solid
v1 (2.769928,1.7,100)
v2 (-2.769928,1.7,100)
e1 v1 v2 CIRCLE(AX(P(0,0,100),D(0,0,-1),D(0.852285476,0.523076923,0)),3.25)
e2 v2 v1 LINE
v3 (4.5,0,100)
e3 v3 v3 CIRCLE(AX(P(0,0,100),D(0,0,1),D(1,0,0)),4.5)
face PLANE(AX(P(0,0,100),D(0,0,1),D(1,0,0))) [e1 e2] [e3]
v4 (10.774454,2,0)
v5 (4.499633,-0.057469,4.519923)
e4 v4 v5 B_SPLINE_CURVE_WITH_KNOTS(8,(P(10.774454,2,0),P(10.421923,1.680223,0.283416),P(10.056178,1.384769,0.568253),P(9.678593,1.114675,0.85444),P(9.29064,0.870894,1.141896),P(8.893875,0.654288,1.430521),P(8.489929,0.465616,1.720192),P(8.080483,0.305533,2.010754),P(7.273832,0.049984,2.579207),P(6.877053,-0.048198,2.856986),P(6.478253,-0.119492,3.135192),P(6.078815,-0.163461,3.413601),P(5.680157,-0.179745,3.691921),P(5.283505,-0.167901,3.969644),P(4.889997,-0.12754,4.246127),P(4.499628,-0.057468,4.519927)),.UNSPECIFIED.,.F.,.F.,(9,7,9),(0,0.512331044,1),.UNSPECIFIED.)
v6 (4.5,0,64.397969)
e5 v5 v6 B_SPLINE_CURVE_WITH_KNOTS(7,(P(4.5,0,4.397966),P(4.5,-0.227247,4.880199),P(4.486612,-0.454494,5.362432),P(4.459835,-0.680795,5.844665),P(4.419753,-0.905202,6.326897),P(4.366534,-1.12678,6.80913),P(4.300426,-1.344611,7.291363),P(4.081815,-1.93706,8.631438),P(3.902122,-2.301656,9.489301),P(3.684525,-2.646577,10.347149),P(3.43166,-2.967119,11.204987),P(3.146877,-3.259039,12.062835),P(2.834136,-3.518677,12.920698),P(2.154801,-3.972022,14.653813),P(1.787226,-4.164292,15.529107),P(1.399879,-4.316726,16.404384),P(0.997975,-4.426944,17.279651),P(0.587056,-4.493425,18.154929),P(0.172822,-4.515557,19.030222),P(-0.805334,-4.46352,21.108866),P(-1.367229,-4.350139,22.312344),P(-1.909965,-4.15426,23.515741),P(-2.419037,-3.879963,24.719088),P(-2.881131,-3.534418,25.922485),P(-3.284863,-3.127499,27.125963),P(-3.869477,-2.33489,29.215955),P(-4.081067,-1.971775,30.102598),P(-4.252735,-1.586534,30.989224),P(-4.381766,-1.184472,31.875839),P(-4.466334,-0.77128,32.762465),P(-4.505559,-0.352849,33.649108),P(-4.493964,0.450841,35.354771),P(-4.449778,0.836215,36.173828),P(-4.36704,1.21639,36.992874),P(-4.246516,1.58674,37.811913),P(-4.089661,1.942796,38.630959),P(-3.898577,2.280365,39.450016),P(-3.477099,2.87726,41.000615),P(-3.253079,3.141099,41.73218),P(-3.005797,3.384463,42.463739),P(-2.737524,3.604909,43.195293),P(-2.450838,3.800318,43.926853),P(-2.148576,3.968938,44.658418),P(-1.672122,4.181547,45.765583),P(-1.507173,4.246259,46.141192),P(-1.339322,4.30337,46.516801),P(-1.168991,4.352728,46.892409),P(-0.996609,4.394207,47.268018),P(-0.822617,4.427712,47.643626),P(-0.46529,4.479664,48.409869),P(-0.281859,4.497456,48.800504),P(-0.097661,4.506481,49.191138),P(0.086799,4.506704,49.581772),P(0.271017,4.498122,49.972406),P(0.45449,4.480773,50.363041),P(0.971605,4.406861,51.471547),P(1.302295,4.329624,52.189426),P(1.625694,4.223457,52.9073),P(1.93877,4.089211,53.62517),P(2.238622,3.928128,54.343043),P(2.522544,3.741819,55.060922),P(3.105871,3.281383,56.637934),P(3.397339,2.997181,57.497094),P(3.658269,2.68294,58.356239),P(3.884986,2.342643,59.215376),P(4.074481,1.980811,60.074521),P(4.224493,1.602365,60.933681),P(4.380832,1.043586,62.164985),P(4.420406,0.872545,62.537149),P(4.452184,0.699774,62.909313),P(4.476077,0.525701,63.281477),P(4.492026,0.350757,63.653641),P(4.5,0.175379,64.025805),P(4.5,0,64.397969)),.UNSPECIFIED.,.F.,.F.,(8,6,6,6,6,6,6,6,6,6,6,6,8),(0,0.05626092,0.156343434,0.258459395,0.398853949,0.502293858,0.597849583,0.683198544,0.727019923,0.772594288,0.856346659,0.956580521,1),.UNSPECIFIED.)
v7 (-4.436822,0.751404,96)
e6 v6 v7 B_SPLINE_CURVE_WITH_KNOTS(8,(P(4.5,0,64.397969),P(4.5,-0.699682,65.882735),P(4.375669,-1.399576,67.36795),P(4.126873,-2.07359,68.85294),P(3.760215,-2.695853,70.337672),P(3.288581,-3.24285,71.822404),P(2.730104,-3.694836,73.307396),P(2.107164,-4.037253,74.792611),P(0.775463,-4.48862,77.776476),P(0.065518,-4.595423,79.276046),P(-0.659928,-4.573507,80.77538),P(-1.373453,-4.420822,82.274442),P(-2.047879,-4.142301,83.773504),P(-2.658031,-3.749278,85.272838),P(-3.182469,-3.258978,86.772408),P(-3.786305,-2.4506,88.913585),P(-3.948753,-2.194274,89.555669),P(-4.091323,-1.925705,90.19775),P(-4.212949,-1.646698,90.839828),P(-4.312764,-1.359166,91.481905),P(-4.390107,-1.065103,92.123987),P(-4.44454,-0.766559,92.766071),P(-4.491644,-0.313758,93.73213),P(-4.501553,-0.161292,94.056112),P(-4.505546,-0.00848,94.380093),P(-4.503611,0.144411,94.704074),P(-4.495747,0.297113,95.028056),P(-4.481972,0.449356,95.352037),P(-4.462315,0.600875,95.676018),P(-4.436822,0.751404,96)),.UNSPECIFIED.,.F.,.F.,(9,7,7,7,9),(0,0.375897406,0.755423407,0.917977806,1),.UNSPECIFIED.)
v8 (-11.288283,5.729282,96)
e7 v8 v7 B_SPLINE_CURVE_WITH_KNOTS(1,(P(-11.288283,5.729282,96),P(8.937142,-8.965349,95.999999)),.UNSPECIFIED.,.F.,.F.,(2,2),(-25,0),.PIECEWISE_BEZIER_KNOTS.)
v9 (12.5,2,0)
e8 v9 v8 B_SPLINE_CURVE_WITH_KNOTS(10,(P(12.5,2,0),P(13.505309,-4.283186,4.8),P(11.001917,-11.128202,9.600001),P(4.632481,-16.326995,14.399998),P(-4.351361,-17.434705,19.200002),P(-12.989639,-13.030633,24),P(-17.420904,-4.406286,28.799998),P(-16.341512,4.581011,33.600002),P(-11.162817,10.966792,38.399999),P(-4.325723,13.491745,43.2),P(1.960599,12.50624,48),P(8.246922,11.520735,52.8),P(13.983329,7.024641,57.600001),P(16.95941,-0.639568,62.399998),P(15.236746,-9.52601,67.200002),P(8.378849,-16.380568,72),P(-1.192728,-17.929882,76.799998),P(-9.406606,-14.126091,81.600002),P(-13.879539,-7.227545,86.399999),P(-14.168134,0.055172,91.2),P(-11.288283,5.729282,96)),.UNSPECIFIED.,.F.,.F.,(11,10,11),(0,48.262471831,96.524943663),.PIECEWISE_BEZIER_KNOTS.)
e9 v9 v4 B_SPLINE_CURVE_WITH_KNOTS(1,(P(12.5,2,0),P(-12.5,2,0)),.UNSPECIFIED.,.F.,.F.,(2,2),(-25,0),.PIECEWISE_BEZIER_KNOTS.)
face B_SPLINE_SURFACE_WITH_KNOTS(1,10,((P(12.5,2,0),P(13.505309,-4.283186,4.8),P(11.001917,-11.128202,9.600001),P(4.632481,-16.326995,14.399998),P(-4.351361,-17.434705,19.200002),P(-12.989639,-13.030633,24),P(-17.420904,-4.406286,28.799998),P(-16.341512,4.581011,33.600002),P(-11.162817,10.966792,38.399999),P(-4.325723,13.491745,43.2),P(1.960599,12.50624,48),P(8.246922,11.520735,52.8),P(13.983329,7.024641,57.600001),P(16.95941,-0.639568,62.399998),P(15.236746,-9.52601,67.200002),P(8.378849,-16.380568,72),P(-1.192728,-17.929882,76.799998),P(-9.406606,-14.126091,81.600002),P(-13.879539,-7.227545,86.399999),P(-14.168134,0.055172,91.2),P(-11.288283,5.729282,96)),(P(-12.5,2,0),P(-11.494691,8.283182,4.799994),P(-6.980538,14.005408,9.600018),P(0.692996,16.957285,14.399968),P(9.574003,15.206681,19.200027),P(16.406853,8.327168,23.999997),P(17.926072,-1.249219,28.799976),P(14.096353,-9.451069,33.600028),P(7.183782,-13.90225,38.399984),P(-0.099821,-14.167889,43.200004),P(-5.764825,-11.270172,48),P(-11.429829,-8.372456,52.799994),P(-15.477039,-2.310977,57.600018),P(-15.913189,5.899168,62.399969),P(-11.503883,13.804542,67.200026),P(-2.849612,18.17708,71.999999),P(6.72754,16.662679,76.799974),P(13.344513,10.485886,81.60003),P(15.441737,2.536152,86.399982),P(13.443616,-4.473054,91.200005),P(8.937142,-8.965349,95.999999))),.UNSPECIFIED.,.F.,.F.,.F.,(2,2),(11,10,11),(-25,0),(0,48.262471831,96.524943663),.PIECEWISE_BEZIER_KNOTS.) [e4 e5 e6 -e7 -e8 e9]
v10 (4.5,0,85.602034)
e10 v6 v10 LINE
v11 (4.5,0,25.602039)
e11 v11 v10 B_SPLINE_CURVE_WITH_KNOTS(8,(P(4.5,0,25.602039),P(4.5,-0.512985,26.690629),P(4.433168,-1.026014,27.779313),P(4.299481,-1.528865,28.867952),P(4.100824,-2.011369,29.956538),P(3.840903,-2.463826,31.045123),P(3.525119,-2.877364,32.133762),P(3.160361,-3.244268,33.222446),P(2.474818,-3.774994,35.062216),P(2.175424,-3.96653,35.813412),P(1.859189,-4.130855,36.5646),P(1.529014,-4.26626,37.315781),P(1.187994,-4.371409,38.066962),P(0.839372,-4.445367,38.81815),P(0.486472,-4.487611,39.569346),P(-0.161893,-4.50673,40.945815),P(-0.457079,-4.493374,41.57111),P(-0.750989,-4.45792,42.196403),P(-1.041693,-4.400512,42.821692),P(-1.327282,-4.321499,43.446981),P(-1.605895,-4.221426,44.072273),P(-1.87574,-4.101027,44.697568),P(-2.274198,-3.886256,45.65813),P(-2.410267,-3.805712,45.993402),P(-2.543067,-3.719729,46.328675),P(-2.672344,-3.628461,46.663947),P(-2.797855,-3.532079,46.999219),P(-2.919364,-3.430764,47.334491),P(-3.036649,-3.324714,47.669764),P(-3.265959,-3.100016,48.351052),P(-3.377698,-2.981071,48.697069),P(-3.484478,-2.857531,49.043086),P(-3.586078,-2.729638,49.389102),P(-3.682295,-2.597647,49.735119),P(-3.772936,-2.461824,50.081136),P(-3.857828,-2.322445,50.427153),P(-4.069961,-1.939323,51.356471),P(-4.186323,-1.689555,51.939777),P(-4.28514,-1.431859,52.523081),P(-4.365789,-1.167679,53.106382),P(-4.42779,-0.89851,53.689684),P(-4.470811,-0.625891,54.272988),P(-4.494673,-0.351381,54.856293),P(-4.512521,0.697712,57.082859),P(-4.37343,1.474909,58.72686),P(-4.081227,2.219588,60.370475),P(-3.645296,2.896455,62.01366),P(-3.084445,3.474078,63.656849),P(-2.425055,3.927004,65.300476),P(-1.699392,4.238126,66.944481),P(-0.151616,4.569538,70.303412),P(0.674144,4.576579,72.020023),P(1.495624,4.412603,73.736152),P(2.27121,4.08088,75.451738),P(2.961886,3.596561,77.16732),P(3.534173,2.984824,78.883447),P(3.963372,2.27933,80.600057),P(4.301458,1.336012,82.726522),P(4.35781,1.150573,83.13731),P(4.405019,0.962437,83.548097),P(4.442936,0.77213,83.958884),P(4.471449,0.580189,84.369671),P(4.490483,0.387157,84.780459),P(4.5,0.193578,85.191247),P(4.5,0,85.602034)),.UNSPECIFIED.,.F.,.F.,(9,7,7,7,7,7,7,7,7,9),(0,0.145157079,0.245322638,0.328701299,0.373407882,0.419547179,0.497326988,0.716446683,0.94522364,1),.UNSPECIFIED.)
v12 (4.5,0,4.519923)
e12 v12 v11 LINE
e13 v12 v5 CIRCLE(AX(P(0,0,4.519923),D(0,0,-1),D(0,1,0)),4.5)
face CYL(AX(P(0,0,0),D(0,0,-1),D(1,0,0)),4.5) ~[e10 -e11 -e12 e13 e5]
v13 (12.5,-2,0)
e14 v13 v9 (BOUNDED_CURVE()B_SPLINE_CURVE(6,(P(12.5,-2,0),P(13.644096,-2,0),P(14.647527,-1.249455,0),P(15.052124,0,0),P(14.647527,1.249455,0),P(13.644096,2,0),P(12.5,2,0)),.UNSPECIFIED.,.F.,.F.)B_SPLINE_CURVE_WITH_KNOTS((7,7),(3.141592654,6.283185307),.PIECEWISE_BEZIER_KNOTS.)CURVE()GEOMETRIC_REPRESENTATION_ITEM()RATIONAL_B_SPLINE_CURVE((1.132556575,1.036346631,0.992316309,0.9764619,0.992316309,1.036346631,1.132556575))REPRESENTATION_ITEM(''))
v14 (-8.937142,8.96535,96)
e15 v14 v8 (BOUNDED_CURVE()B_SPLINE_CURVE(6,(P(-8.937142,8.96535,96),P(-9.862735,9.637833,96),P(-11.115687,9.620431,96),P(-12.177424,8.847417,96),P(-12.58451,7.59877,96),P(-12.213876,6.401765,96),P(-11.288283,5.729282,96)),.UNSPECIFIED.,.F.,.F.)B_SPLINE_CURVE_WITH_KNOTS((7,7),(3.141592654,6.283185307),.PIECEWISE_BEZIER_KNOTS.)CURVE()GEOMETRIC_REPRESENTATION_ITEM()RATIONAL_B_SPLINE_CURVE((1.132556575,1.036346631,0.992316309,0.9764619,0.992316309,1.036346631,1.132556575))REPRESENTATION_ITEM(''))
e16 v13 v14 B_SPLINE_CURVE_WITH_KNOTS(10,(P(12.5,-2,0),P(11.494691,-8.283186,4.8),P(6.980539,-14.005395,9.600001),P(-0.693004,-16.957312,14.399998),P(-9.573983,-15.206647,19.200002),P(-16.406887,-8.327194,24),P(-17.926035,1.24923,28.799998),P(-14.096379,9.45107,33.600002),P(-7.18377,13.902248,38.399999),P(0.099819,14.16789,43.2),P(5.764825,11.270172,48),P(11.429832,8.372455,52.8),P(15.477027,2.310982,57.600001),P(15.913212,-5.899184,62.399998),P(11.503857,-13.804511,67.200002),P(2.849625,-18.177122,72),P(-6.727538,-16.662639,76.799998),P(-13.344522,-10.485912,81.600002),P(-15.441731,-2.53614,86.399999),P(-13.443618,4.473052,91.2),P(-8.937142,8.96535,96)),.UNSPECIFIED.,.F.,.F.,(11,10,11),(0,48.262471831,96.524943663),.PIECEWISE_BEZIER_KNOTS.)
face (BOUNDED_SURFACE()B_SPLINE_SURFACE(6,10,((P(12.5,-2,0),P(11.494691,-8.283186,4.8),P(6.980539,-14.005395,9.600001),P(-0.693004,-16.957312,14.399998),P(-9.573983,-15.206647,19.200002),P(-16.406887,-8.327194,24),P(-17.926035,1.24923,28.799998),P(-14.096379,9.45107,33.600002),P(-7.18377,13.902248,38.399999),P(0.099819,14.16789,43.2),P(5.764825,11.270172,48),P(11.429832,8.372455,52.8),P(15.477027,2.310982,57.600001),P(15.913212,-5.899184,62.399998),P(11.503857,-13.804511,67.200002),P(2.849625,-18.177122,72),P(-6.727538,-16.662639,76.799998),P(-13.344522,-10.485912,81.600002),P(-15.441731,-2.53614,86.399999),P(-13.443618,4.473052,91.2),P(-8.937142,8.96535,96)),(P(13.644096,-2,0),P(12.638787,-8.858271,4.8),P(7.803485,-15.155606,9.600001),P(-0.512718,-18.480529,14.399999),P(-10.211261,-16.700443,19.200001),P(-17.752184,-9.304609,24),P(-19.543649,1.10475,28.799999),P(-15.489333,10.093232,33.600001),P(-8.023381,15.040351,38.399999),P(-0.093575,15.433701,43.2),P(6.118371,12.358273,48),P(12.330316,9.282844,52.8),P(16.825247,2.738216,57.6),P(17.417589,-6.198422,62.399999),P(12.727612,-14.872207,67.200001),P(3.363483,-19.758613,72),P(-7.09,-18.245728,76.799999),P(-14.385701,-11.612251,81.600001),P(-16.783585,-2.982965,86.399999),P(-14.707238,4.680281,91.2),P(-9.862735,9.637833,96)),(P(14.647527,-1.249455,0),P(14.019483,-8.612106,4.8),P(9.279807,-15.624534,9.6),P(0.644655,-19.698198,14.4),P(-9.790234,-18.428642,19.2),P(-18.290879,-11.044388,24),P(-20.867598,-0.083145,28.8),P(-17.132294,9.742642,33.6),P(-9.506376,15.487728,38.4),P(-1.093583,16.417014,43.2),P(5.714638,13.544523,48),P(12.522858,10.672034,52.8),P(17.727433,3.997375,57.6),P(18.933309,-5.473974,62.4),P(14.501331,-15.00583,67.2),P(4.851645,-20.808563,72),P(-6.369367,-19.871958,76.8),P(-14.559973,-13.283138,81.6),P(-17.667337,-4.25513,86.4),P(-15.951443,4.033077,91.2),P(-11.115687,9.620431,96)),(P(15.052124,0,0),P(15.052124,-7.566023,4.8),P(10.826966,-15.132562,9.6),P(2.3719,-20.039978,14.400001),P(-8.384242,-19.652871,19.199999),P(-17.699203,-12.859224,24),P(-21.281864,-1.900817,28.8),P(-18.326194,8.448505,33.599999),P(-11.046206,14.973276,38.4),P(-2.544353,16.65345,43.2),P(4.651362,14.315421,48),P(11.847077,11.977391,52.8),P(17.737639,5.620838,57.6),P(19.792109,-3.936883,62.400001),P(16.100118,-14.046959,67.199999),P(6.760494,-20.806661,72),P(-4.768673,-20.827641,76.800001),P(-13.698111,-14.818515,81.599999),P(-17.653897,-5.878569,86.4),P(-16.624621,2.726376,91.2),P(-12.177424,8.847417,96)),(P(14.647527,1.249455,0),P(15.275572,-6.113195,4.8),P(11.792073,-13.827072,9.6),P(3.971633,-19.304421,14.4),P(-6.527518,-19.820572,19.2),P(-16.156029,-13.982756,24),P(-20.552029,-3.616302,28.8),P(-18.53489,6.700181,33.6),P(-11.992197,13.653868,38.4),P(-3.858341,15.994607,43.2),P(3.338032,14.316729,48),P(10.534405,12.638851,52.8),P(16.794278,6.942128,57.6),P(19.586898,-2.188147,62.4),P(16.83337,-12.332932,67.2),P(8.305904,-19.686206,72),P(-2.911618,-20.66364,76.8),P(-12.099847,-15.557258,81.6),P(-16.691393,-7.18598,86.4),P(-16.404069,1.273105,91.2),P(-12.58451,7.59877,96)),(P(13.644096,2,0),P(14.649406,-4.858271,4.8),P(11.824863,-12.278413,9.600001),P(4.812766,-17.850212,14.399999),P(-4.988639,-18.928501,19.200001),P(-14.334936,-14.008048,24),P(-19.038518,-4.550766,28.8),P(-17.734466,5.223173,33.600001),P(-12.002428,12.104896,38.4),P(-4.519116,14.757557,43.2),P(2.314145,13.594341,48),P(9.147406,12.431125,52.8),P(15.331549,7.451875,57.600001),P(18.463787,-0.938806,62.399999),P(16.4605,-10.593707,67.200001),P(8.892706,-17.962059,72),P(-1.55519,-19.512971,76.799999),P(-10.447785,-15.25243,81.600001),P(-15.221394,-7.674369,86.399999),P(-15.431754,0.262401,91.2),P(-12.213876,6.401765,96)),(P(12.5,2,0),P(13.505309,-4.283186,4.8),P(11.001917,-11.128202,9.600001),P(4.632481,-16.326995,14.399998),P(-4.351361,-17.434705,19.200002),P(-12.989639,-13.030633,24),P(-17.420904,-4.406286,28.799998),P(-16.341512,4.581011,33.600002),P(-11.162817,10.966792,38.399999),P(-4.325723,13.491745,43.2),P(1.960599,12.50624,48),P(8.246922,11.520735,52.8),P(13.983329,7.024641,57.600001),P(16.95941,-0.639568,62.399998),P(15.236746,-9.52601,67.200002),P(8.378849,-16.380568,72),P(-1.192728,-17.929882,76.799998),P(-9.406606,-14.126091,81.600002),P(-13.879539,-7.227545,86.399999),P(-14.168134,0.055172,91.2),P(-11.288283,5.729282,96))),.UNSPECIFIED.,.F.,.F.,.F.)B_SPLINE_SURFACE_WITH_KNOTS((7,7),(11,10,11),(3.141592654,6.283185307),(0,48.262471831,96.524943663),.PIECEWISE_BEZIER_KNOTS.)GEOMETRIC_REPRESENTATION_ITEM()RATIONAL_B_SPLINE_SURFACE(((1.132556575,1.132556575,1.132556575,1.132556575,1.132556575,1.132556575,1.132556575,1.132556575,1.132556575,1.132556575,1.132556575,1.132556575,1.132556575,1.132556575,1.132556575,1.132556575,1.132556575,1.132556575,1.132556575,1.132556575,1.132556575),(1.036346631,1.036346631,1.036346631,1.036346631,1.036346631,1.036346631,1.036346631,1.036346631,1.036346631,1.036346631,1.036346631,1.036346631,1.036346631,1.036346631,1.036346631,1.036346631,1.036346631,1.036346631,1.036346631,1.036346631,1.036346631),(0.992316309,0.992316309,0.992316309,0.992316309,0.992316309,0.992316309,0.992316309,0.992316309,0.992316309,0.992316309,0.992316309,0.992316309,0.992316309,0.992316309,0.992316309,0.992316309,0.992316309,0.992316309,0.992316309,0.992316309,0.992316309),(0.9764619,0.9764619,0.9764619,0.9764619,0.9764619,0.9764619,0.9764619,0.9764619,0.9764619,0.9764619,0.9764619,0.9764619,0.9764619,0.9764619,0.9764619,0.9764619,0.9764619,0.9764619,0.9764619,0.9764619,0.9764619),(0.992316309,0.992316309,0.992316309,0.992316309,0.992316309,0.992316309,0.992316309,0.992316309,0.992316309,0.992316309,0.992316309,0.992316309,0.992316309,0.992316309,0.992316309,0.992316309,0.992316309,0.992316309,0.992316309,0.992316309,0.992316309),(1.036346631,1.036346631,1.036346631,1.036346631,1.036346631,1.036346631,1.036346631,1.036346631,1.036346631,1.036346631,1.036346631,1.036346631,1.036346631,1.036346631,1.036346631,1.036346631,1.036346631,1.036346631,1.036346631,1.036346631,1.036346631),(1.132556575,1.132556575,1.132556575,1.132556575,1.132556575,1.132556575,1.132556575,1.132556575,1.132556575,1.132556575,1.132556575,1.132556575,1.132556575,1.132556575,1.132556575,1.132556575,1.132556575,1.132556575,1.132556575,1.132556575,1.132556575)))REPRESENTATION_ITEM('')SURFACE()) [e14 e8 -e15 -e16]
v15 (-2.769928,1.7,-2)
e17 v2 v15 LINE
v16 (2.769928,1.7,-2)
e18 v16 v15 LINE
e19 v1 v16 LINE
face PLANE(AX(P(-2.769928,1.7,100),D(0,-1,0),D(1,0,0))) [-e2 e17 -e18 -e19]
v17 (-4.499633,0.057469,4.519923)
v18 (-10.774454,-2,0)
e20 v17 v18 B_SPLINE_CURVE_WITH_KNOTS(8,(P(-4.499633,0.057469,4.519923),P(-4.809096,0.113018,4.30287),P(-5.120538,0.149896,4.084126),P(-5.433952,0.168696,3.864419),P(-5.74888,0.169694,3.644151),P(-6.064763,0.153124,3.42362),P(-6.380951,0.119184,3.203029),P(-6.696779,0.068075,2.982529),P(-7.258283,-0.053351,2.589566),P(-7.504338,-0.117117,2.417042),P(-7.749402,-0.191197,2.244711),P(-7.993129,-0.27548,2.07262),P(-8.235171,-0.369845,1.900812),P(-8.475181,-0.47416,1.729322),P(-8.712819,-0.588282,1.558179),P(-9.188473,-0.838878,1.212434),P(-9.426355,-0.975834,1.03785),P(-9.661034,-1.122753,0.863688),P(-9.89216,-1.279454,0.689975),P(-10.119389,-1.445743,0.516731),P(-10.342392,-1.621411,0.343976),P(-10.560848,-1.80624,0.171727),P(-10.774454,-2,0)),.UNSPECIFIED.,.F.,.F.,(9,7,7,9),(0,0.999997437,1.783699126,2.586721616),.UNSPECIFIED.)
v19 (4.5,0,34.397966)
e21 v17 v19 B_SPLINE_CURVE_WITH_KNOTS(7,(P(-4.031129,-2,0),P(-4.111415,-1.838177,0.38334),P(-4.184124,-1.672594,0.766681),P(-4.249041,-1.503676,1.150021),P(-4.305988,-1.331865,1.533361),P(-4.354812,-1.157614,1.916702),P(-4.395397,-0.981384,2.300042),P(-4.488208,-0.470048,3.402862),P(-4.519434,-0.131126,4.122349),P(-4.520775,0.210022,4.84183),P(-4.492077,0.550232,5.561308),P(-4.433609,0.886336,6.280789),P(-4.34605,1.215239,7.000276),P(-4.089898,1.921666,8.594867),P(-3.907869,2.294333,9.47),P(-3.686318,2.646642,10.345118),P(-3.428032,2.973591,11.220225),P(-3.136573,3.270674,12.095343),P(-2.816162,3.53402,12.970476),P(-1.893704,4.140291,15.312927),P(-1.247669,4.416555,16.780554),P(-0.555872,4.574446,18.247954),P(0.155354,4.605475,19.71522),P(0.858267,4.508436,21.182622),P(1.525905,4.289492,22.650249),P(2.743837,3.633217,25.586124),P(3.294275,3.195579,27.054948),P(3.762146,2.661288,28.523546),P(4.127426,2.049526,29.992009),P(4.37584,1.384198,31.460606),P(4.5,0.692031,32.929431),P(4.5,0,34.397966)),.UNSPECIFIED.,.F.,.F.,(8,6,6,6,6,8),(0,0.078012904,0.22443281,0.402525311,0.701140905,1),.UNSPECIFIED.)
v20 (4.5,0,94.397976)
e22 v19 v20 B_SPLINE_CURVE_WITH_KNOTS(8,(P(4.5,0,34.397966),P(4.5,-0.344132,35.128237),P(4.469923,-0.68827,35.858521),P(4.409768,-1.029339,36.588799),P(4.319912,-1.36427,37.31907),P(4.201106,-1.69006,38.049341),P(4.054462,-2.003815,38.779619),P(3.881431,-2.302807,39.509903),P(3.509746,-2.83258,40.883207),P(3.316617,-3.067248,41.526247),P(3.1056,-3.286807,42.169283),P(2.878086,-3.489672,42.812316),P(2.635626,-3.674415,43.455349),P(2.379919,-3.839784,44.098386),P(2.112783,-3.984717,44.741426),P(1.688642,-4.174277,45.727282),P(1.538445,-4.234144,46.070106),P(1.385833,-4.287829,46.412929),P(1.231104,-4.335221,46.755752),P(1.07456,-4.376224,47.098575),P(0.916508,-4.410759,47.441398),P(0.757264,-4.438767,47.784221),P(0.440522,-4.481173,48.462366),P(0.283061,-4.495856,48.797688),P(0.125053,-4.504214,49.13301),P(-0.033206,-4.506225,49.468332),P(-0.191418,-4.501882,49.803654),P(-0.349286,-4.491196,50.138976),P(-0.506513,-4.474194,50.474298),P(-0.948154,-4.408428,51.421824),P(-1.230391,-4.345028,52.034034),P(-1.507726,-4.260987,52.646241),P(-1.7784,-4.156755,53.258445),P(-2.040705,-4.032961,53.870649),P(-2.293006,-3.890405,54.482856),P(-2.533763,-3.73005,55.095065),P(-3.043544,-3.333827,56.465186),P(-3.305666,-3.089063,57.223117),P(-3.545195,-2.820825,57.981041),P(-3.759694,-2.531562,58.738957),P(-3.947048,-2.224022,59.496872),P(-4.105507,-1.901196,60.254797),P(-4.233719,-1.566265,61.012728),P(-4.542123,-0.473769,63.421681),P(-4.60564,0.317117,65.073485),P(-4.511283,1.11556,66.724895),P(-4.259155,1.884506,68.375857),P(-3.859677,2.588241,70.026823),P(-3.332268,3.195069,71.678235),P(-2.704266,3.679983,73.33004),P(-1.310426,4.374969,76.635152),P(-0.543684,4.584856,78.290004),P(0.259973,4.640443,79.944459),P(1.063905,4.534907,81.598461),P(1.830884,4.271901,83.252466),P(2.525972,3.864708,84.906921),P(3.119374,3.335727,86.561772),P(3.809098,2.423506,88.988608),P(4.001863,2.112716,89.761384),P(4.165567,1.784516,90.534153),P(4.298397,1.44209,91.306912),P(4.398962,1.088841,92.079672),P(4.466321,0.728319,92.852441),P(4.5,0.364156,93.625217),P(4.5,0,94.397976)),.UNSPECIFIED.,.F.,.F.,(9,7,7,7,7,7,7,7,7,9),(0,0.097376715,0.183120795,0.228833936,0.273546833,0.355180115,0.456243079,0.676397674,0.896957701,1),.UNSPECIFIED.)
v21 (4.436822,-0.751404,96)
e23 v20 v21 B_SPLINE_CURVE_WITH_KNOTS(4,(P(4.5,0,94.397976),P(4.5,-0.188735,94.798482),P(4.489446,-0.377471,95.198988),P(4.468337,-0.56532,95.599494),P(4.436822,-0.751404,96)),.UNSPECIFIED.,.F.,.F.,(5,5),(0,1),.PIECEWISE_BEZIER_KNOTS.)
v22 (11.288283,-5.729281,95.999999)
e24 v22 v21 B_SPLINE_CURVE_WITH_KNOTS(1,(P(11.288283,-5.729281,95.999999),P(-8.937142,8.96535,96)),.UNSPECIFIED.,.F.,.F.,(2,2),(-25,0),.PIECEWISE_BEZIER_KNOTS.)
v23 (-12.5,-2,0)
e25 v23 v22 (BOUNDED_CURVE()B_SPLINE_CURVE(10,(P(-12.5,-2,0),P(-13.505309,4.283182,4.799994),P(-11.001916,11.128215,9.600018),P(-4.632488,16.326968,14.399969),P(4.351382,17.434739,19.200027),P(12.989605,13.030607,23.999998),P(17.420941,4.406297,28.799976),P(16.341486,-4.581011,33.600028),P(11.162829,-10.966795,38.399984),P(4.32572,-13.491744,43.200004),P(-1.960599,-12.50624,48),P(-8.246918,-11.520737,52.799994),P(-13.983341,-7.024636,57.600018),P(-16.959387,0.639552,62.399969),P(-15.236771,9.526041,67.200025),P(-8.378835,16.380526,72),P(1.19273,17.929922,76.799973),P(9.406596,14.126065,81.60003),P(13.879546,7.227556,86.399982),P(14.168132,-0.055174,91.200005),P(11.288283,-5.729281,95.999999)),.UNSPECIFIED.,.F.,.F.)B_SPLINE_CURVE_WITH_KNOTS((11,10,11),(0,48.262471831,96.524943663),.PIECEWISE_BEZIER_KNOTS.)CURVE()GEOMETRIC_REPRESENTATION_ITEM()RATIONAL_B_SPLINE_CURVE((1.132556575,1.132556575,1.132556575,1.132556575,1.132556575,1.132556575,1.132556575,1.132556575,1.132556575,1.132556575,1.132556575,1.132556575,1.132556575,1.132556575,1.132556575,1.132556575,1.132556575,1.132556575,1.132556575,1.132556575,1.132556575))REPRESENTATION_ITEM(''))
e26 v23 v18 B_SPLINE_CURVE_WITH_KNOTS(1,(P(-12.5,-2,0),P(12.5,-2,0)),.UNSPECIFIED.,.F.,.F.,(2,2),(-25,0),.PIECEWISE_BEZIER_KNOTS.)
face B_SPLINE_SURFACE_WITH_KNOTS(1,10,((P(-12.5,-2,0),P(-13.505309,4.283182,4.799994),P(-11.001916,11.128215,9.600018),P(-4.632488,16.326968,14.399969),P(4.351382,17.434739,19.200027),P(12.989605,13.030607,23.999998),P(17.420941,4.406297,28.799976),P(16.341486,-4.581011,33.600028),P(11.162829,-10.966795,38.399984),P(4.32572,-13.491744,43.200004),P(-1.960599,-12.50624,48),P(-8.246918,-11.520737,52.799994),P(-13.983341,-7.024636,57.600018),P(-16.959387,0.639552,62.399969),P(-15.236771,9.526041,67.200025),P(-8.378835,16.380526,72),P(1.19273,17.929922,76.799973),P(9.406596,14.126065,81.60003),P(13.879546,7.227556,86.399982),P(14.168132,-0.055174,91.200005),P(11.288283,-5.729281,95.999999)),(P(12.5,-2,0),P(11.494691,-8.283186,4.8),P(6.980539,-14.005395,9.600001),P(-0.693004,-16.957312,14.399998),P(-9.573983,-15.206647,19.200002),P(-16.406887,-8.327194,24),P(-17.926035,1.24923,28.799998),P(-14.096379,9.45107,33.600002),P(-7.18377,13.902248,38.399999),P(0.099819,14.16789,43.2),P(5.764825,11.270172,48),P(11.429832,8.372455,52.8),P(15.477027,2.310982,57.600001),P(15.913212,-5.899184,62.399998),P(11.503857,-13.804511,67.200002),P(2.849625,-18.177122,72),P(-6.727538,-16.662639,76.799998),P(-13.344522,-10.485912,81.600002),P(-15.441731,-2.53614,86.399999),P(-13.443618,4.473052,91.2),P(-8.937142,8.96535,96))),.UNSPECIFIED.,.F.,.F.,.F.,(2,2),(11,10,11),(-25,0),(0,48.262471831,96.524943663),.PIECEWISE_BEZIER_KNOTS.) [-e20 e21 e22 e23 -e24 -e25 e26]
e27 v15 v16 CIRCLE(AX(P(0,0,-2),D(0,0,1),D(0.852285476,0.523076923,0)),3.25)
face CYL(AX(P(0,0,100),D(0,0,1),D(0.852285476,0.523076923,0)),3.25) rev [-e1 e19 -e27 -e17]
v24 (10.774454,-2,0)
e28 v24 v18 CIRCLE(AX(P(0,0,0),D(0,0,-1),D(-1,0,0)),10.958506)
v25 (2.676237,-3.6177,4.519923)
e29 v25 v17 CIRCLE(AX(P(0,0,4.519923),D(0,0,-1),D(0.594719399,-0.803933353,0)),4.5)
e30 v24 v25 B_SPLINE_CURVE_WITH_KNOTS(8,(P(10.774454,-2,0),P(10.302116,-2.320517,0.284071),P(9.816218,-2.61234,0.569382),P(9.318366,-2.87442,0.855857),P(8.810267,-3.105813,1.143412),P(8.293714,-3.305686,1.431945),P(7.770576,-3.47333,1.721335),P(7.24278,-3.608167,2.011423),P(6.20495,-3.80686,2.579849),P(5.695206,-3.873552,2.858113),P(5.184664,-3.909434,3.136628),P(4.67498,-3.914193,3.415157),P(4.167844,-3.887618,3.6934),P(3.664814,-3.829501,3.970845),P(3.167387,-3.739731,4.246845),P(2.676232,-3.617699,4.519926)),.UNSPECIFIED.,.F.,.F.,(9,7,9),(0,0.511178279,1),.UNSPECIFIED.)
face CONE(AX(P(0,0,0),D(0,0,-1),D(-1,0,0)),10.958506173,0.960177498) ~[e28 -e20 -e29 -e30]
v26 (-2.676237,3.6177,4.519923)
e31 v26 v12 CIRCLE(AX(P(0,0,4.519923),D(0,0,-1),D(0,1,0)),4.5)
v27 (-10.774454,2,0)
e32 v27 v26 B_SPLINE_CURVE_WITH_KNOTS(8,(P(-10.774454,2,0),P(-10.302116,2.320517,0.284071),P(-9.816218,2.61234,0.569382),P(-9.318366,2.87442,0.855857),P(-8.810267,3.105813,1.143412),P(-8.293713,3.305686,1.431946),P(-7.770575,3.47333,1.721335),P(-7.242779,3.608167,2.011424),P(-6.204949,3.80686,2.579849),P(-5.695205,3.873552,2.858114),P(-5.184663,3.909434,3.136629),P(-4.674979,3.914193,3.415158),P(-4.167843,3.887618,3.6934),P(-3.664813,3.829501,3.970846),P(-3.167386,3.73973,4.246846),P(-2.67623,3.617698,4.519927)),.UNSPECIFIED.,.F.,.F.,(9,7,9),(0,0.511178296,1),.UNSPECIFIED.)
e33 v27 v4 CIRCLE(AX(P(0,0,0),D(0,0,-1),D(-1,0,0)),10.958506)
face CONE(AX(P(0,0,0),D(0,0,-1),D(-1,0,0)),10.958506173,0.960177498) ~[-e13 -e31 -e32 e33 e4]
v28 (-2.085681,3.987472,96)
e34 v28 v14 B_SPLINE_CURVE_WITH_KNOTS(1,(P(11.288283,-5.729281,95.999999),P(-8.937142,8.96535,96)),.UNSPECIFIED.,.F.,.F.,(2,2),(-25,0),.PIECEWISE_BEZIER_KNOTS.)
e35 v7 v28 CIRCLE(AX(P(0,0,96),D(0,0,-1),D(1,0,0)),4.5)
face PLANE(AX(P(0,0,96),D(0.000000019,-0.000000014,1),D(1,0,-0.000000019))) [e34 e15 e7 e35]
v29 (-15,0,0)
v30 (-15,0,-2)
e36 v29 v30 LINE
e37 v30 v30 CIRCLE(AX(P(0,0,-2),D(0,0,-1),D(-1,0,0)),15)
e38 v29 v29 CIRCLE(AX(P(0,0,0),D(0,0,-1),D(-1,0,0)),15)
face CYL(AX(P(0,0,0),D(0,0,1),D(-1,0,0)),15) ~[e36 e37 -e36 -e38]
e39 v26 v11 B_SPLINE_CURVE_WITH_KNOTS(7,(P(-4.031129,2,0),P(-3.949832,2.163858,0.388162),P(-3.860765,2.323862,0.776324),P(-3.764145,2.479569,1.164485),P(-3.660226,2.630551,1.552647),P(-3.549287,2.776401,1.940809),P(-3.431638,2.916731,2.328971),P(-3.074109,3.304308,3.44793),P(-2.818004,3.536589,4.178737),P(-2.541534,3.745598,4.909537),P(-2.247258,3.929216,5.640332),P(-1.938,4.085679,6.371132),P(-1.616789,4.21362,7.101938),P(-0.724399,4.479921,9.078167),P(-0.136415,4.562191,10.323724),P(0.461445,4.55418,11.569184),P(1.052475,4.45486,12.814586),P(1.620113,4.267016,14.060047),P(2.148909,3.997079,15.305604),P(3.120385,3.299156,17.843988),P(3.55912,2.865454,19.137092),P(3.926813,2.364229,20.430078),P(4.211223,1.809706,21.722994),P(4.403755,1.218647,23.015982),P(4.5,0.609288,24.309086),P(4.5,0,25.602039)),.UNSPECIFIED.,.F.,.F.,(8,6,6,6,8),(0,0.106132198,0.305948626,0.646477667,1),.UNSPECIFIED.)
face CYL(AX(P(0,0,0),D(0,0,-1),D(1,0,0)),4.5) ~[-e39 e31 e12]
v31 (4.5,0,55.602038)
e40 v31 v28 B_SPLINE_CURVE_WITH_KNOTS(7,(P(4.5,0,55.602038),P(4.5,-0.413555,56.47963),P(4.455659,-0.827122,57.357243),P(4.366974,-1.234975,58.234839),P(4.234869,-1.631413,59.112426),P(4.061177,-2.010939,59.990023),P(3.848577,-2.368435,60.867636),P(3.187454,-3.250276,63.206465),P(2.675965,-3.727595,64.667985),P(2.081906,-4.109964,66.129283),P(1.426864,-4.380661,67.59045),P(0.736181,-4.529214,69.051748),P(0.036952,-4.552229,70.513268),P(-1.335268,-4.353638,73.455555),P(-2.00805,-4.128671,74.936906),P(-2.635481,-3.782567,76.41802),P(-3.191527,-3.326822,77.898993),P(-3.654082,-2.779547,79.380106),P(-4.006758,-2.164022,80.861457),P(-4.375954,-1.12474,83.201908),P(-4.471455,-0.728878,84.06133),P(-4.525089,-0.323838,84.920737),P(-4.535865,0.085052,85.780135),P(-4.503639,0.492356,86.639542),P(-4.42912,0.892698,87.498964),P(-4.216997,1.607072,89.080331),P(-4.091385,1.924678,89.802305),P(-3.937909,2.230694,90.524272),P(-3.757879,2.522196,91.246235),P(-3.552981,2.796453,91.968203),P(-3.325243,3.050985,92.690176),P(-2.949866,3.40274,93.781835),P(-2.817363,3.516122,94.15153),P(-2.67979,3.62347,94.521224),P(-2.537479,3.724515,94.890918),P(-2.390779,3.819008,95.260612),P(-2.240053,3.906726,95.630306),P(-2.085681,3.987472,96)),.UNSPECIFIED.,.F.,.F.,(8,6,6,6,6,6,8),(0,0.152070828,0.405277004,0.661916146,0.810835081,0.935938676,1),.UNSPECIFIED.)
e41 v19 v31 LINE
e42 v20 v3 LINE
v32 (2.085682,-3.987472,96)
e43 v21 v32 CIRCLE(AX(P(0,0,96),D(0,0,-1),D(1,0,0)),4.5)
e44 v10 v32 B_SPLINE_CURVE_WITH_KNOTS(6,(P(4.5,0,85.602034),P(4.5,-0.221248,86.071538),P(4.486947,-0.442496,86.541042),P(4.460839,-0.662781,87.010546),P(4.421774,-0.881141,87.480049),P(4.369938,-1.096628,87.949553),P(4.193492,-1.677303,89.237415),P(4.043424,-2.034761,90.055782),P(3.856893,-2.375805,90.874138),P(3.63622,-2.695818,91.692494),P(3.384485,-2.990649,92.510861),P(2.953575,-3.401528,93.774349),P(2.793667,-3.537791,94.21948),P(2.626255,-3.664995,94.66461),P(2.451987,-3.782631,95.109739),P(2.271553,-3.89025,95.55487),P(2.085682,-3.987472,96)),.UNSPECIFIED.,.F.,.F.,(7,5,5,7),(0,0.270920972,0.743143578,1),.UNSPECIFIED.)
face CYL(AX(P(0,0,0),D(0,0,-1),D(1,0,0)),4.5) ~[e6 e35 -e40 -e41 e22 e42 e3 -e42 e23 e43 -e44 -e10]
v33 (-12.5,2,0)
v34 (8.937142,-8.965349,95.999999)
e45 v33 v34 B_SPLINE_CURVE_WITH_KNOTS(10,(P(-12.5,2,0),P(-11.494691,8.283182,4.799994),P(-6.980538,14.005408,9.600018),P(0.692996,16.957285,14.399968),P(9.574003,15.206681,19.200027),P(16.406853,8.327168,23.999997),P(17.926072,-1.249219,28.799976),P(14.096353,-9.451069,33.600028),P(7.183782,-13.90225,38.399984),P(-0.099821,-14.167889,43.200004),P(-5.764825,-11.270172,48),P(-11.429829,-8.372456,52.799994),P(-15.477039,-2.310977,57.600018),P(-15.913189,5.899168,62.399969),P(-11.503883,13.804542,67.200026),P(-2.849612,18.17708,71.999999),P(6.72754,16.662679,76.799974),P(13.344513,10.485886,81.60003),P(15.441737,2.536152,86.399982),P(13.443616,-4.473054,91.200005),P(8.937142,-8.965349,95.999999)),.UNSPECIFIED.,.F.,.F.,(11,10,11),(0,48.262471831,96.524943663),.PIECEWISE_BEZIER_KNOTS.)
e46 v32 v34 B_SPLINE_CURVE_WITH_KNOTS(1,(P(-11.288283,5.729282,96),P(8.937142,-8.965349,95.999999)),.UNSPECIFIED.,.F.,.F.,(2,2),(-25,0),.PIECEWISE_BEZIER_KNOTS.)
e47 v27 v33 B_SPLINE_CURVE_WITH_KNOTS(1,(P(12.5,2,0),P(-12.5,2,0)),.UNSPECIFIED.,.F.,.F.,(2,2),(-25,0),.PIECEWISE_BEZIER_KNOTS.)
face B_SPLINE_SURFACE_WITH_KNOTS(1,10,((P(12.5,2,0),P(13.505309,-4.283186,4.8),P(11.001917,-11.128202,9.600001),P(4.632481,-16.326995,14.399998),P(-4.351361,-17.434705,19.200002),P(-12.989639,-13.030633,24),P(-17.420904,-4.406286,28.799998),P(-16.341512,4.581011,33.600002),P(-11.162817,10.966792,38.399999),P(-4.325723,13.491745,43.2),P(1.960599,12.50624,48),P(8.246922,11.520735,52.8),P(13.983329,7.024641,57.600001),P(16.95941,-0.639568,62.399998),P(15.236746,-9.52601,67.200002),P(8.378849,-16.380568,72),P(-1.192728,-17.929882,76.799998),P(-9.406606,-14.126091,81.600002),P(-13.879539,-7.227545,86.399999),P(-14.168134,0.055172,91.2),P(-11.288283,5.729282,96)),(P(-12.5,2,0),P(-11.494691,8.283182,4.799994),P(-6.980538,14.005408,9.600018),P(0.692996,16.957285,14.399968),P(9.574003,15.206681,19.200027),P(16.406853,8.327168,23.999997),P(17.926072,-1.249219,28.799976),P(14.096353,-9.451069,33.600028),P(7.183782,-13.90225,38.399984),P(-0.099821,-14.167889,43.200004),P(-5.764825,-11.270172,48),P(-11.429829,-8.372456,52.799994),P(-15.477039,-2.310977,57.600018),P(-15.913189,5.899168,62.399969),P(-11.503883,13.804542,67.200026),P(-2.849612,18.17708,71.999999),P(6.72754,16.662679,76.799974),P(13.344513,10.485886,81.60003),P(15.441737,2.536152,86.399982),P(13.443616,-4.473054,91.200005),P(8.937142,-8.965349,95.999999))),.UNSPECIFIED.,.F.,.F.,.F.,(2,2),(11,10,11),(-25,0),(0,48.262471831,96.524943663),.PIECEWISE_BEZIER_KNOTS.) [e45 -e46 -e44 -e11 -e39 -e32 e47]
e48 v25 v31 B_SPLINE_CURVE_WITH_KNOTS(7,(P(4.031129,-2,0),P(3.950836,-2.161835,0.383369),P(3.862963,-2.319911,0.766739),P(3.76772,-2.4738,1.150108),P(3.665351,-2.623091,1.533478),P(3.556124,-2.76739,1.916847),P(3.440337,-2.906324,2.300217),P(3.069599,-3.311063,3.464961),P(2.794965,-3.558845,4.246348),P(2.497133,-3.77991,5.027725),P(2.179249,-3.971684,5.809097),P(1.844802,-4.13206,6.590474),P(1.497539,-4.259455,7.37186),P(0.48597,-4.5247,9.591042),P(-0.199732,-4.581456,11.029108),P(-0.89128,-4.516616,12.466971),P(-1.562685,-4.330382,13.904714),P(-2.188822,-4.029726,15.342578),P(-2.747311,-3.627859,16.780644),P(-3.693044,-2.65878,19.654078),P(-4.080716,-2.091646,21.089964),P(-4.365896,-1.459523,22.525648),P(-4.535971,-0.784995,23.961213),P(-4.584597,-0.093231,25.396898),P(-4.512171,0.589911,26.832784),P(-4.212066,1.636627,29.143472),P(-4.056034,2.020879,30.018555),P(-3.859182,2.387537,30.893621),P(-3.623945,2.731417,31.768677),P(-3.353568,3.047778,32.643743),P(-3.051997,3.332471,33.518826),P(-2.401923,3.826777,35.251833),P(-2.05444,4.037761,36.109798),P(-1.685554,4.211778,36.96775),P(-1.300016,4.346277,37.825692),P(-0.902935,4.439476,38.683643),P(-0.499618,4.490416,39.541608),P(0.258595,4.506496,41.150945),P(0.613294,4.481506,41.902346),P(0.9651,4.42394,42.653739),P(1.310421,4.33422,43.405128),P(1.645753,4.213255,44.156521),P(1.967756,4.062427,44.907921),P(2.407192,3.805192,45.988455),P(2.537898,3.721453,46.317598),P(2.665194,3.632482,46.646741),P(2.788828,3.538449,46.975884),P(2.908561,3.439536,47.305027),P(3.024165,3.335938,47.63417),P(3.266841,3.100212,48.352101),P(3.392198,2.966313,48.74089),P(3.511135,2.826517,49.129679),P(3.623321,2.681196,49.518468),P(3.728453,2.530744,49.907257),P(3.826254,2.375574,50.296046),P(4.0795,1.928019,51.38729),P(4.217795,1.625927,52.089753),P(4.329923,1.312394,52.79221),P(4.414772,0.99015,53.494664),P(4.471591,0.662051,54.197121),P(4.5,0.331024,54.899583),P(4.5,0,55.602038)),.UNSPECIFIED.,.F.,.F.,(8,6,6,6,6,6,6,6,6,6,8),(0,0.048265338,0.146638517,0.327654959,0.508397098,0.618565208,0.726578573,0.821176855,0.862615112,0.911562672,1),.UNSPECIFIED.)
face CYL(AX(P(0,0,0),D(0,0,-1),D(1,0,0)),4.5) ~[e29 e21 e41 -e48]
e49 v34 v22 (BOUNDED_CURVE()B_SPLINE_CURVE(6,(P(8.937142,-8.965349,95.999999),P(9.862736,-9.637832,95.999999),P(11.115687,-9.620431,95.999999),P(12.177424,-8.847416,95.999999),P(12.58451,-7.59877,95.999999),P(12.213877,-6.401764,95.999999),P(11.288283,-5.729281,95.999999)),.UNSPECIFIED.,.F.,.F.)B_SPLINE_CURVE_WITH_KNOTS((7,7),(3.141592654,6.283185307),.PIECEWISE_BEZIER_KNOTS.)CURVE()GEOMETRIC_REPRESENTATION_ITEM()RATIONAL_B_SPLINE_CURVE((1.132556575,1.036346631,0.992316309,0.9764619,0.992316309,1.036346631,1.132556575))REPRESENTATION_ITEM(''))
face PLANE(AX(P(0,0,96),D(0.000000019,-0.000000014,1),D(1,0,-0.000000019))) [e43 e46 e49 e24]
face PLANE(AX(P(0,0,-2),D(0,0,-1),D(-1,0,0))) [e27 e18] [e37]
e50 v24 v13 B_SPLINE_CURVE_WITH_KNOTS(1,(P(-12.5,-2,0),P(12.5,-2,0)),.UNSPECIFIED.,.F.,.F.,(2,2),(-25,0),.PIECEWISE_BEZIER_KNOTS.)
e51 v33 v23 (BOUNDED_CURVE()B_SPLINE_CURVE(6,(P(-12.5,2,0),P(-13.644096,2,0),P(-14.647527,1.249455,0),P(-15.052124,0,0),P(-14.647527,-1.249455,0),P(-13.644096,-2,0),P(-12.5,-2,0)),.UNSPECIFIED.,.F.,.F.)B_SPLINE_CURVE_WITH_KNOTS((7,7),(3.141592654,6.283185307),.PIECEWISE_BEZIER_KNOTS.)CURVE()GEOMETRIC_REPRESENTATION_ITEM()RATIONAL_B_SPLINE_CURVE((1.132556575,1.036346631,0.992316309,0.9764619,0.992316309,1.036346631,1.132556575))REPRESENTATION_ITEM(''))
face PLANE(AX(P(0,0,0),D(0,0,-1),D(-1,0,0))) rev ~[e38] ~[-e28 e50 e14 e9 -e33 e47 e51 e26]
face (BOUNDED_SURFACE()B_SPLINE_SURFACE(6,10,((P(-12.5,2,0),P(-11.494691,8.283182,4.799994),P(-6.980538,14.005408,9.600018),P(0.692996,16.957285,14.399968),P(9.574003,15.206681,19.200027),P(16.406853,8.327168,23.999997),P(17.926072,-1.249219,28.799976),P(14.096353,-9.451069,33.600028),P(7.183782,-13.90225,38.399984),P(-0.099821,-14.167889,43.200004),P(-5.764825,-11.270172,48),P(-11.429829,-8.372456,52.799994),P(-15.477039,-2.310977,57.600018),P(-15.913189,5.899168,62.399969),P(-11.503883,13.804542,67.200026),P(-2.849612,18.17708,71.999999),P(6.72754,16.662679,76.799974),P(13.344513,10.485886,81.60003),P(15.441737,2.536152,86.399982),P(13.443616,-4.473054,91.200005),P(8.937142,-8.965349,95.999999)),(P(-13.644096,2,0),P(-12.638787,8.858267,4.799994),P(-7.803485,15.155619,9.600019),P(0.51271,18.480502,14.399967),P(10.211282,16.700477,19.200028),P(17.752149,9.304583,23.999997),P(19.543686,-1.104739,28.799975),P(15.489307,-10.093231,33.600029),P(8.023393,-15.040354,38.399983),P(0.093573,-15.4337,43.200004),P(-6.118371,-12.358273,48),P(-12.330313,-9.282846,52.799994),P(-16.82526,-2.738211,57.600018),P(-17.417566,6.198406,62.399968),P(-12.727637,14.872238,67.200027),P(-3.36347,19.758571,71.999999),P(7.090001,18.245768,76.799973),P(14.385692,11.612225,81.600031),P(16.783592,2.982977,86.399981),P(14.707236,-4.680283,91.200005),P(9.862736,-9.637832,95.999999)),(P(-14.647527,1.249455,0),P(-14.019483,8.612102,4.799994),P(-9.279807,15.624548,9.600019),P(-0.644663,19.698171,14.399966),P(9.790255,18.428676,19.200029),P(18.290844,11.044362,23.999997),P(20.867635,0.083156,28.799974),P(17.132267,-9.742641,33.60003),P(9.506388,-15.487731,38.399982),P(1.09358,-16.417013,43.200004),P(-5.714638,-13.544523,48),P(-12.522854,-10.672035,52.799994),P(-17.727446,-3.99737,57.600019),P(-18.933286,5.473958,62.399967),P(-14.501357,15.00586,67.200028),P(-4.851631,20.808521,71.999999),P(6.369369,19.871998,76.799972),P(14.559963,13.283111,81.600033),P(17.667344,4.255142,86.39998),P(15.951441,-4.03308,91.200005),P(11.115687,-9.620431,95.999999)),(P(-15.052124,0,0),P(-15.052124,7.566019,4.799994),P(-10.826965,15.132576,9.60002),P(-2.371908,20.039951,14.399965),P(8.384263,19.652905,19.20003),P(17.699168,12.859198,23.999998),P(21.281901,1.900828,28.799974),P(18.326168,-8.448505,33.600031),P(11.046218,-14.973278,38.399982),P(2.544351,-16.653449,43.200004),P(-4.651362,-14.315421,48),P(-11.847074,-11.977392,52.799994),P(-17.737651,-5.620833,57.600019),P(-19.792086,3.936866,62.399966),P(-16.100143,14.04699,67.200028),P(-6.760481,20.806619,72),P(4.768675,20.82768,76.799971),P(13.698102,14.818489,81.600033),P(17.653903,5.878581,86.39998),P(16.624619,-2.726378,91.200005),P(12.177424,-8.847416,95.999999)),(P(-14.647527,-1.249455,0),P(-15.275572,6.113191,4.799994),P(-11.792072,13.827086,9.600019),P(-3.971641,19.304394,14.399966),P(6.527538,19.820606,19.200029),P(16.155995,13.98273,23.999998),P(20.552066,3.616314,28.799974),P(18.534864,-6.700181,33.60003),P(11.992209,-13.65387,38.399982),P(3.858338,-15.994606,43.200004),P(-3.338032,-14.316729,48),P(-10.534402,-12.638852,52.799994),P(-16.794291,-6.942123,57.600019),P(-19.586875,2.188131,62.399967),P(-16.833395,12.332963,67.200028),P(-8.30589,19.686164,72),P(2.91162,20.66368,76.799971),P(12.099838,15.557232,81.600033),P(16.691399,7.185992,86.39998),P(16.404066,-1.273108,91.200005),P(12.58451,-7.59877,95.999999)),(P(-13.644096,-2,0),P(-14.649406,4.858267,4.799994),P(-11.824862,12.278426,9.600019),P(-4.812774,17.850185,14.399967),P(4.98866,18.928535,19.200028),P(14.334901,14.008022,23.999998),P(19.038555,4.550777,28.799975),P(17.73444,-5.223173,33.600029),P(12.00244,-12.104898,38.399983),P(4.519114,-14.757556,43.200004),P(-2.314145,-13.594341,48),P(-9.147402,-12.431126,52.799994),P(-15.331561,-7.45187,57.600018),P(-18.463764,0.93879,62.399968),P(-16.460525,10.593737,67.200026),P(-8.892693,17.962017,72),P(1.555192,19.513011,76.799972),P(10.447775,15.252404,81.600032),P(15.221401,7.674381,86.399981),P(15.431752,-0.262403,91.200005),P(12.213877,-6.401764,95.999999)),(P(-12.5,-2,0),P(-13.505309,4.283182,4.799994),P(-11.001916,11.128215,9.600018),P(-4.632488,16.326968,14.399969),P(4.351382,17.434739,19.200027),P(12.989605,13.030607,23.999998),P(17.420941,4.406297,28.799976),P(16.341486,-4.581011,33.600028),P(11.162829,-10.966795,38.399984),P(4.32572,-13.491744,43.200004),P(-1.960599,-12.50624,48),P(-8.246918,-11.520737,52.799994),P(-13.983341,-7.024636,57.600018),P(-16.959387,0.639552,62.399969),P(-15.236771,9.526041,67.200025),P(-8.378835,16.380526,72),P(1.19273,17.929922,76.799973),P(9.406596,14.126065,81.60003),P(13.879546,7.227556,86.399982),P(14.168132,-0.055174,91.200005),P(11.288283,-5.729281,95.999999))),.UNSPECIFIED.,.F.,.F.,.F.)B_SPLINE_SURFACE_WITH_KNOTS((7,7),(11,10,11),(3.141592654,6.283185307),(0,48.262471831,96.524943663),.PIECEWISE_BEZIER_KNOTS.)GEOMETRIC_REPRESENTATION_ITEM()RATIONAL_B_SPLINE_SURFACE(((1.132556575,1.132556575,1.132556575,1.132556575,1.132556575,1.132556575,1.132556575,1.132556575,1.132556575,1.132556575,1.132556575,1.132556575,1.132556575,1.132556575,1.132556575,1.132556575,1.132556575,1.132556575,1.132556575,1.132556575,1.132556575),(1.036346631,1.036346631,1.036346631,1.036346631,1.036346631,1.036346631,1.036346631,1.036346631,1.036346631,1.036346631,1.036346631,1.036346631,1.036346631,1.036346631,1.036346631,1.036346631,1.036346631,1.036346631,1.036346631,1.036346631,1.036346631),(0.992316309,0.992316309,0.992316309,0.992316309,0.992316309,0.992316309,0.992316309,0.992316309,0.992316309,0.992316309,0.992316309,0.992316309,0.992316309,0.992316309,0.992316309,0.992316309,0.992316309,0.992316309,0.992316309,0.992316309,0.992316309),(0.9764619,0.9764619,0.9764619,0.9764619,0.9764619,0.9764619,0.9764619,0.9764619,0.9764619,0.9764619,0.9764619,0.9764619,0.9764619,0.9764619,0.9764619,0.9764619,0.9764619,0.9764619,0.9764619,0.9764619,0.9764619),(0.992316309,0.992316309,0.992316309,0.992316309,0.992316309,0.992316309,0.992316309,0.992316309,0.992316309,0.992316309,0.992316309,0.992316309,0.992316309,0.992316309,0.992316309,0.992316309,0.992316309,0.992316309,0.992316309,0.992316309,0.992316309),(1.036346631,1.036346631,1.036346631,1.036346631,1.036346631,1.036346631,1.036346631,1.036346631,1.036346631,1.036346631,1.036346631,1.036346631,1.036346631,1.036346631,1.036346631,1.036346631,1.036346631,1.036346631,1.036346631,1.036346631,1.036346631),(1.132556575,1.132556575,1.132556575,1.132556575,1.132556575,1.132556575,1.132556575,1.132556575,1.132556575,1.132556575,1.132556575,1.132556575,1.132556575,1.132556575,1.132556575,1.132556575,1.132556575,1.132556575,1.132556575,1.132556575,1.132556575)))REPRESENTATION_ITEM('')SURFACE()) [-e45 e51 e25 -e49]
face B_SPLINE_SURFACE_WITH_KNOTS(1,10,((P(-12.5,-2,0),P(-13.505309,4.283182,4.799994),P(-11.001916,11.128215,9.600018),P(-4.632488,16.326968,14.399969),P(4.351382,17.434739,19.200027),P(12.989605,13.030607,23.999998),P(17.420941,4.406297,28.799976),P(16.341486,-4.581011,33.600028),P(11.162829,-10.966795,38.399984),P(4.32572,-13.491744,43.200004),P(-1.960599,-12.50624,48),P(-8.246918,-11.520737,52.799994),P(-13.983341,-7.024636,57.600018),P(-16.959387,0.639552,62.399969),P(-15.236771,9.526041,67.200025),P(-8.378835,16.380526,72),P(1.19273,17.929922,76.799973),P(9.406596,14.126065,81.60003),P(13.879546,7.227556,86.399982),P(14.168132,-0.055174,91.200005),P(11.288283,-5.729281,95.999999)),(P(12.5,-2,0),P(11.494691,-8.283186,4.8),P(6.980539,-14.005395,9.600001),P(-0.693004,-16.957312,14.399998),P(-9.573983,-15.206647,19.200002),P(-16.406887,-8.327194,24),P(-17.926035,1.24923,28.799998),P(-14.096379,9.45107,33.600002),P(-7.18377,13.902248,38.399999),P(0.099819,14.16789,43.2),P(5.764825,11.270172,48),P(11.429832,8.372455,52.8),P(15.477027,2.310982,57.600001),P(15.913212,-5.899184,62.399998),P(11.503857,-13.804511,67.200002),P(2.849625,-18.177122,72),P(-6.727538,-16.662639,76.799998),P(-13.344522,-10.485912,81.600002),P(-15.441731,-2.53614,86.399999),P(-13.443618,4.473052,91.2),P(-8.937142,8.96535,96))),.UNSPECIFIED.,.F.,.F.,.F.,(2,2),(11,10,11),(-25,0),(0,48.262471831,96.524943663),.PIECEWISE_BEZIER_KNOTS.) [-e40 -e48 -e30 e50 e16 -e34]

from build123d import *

# Parameters (mm, degrees)
SKETCH1_R           = 4.5
BOSS_EXTRUDE1_DEPTH = 100
SWEEP1_PITCH        = 60
SWEEP1_HEIGHT       = 96
SWEEP1_RADIUS       = 14.5
SKETCH5_R           = 15
BOSS_EXTRUDE2_DEPTH = 2
CUT_EXTRUDE1_DEPTH  = 103


with BuildPart() as part:
    # Sketch1 → Boss-Extrude1 (new body)
    with BuildSketch(Plane.XY):
        Circle(SKETCH1_R)
    extrude(amount=BOSS_EXTRUDE1_DEPTH)

    # Sweep1: sweep along a helix
    with BuildLine() as sweep1_path:
        Helix(SWEEP1_PITCH, SWEEP1_HEIGHT, SWEEP1_RADIUS, center=(0, 0, 0), direction=(0, 0, 1), lefthand=True)
    # Sketch2 → Sweep1 (sweep)
    with BuildSketch(Plane.XY):
        with BuildLine():
            Line((-12.5, 2), (12.5, 2))
            ThreePointArc((12.5, 2), (14.5, 0), (12.5, -2))
            Line((12.5, -2), (-12.5, -2))
            ThreePointArc((-12.5, -2), (-14.5, 0), (-12.5, 2))
        make_face()
    sweep(path=sweep1_path.line, is_frenet=True)

    # Sketch5 → Boss-Extrude2 (add)
    with BuildSketch(Plane(origin=(0, 0, 0), x_dir=(-1, 0, 0), z_dir=(0, 0, -1))):
        Circle(SKETCH5_R)
    extrude(amount=BOSS_EXTRUDE2_DEPTH)

    # Sketch6 → Revolve1 (revolve)
    with BuildSketch(Plane(origin=(0, 0, 0), x_dir=(1, 0, 0), z_dir=(0, 1, 0))):
        Polygon((0, 0), (-10.958506173, 0), (0, -7.669205118), align=None)
    revolve(axis=Axis((0, 0, 7.669205118), (0, 0, -1)))

    # Sketch4 → Cut-Extrude1 (cut, through all)
    with BuildSketch(Plane.XY.offset(100)):
        with BuildLine():
            Line((-2.769927797, 1.7), (2.769927797, 1.7))
            ThreePointArc((2.769927797, 1.7), (0, -3.25), (-2.769927797, 1.7))
        make_face()
    extrude(amount=-CUT_EXTRUDE1_DEPTH, mode=Mode.SUBTRACT)


solid = part.part
